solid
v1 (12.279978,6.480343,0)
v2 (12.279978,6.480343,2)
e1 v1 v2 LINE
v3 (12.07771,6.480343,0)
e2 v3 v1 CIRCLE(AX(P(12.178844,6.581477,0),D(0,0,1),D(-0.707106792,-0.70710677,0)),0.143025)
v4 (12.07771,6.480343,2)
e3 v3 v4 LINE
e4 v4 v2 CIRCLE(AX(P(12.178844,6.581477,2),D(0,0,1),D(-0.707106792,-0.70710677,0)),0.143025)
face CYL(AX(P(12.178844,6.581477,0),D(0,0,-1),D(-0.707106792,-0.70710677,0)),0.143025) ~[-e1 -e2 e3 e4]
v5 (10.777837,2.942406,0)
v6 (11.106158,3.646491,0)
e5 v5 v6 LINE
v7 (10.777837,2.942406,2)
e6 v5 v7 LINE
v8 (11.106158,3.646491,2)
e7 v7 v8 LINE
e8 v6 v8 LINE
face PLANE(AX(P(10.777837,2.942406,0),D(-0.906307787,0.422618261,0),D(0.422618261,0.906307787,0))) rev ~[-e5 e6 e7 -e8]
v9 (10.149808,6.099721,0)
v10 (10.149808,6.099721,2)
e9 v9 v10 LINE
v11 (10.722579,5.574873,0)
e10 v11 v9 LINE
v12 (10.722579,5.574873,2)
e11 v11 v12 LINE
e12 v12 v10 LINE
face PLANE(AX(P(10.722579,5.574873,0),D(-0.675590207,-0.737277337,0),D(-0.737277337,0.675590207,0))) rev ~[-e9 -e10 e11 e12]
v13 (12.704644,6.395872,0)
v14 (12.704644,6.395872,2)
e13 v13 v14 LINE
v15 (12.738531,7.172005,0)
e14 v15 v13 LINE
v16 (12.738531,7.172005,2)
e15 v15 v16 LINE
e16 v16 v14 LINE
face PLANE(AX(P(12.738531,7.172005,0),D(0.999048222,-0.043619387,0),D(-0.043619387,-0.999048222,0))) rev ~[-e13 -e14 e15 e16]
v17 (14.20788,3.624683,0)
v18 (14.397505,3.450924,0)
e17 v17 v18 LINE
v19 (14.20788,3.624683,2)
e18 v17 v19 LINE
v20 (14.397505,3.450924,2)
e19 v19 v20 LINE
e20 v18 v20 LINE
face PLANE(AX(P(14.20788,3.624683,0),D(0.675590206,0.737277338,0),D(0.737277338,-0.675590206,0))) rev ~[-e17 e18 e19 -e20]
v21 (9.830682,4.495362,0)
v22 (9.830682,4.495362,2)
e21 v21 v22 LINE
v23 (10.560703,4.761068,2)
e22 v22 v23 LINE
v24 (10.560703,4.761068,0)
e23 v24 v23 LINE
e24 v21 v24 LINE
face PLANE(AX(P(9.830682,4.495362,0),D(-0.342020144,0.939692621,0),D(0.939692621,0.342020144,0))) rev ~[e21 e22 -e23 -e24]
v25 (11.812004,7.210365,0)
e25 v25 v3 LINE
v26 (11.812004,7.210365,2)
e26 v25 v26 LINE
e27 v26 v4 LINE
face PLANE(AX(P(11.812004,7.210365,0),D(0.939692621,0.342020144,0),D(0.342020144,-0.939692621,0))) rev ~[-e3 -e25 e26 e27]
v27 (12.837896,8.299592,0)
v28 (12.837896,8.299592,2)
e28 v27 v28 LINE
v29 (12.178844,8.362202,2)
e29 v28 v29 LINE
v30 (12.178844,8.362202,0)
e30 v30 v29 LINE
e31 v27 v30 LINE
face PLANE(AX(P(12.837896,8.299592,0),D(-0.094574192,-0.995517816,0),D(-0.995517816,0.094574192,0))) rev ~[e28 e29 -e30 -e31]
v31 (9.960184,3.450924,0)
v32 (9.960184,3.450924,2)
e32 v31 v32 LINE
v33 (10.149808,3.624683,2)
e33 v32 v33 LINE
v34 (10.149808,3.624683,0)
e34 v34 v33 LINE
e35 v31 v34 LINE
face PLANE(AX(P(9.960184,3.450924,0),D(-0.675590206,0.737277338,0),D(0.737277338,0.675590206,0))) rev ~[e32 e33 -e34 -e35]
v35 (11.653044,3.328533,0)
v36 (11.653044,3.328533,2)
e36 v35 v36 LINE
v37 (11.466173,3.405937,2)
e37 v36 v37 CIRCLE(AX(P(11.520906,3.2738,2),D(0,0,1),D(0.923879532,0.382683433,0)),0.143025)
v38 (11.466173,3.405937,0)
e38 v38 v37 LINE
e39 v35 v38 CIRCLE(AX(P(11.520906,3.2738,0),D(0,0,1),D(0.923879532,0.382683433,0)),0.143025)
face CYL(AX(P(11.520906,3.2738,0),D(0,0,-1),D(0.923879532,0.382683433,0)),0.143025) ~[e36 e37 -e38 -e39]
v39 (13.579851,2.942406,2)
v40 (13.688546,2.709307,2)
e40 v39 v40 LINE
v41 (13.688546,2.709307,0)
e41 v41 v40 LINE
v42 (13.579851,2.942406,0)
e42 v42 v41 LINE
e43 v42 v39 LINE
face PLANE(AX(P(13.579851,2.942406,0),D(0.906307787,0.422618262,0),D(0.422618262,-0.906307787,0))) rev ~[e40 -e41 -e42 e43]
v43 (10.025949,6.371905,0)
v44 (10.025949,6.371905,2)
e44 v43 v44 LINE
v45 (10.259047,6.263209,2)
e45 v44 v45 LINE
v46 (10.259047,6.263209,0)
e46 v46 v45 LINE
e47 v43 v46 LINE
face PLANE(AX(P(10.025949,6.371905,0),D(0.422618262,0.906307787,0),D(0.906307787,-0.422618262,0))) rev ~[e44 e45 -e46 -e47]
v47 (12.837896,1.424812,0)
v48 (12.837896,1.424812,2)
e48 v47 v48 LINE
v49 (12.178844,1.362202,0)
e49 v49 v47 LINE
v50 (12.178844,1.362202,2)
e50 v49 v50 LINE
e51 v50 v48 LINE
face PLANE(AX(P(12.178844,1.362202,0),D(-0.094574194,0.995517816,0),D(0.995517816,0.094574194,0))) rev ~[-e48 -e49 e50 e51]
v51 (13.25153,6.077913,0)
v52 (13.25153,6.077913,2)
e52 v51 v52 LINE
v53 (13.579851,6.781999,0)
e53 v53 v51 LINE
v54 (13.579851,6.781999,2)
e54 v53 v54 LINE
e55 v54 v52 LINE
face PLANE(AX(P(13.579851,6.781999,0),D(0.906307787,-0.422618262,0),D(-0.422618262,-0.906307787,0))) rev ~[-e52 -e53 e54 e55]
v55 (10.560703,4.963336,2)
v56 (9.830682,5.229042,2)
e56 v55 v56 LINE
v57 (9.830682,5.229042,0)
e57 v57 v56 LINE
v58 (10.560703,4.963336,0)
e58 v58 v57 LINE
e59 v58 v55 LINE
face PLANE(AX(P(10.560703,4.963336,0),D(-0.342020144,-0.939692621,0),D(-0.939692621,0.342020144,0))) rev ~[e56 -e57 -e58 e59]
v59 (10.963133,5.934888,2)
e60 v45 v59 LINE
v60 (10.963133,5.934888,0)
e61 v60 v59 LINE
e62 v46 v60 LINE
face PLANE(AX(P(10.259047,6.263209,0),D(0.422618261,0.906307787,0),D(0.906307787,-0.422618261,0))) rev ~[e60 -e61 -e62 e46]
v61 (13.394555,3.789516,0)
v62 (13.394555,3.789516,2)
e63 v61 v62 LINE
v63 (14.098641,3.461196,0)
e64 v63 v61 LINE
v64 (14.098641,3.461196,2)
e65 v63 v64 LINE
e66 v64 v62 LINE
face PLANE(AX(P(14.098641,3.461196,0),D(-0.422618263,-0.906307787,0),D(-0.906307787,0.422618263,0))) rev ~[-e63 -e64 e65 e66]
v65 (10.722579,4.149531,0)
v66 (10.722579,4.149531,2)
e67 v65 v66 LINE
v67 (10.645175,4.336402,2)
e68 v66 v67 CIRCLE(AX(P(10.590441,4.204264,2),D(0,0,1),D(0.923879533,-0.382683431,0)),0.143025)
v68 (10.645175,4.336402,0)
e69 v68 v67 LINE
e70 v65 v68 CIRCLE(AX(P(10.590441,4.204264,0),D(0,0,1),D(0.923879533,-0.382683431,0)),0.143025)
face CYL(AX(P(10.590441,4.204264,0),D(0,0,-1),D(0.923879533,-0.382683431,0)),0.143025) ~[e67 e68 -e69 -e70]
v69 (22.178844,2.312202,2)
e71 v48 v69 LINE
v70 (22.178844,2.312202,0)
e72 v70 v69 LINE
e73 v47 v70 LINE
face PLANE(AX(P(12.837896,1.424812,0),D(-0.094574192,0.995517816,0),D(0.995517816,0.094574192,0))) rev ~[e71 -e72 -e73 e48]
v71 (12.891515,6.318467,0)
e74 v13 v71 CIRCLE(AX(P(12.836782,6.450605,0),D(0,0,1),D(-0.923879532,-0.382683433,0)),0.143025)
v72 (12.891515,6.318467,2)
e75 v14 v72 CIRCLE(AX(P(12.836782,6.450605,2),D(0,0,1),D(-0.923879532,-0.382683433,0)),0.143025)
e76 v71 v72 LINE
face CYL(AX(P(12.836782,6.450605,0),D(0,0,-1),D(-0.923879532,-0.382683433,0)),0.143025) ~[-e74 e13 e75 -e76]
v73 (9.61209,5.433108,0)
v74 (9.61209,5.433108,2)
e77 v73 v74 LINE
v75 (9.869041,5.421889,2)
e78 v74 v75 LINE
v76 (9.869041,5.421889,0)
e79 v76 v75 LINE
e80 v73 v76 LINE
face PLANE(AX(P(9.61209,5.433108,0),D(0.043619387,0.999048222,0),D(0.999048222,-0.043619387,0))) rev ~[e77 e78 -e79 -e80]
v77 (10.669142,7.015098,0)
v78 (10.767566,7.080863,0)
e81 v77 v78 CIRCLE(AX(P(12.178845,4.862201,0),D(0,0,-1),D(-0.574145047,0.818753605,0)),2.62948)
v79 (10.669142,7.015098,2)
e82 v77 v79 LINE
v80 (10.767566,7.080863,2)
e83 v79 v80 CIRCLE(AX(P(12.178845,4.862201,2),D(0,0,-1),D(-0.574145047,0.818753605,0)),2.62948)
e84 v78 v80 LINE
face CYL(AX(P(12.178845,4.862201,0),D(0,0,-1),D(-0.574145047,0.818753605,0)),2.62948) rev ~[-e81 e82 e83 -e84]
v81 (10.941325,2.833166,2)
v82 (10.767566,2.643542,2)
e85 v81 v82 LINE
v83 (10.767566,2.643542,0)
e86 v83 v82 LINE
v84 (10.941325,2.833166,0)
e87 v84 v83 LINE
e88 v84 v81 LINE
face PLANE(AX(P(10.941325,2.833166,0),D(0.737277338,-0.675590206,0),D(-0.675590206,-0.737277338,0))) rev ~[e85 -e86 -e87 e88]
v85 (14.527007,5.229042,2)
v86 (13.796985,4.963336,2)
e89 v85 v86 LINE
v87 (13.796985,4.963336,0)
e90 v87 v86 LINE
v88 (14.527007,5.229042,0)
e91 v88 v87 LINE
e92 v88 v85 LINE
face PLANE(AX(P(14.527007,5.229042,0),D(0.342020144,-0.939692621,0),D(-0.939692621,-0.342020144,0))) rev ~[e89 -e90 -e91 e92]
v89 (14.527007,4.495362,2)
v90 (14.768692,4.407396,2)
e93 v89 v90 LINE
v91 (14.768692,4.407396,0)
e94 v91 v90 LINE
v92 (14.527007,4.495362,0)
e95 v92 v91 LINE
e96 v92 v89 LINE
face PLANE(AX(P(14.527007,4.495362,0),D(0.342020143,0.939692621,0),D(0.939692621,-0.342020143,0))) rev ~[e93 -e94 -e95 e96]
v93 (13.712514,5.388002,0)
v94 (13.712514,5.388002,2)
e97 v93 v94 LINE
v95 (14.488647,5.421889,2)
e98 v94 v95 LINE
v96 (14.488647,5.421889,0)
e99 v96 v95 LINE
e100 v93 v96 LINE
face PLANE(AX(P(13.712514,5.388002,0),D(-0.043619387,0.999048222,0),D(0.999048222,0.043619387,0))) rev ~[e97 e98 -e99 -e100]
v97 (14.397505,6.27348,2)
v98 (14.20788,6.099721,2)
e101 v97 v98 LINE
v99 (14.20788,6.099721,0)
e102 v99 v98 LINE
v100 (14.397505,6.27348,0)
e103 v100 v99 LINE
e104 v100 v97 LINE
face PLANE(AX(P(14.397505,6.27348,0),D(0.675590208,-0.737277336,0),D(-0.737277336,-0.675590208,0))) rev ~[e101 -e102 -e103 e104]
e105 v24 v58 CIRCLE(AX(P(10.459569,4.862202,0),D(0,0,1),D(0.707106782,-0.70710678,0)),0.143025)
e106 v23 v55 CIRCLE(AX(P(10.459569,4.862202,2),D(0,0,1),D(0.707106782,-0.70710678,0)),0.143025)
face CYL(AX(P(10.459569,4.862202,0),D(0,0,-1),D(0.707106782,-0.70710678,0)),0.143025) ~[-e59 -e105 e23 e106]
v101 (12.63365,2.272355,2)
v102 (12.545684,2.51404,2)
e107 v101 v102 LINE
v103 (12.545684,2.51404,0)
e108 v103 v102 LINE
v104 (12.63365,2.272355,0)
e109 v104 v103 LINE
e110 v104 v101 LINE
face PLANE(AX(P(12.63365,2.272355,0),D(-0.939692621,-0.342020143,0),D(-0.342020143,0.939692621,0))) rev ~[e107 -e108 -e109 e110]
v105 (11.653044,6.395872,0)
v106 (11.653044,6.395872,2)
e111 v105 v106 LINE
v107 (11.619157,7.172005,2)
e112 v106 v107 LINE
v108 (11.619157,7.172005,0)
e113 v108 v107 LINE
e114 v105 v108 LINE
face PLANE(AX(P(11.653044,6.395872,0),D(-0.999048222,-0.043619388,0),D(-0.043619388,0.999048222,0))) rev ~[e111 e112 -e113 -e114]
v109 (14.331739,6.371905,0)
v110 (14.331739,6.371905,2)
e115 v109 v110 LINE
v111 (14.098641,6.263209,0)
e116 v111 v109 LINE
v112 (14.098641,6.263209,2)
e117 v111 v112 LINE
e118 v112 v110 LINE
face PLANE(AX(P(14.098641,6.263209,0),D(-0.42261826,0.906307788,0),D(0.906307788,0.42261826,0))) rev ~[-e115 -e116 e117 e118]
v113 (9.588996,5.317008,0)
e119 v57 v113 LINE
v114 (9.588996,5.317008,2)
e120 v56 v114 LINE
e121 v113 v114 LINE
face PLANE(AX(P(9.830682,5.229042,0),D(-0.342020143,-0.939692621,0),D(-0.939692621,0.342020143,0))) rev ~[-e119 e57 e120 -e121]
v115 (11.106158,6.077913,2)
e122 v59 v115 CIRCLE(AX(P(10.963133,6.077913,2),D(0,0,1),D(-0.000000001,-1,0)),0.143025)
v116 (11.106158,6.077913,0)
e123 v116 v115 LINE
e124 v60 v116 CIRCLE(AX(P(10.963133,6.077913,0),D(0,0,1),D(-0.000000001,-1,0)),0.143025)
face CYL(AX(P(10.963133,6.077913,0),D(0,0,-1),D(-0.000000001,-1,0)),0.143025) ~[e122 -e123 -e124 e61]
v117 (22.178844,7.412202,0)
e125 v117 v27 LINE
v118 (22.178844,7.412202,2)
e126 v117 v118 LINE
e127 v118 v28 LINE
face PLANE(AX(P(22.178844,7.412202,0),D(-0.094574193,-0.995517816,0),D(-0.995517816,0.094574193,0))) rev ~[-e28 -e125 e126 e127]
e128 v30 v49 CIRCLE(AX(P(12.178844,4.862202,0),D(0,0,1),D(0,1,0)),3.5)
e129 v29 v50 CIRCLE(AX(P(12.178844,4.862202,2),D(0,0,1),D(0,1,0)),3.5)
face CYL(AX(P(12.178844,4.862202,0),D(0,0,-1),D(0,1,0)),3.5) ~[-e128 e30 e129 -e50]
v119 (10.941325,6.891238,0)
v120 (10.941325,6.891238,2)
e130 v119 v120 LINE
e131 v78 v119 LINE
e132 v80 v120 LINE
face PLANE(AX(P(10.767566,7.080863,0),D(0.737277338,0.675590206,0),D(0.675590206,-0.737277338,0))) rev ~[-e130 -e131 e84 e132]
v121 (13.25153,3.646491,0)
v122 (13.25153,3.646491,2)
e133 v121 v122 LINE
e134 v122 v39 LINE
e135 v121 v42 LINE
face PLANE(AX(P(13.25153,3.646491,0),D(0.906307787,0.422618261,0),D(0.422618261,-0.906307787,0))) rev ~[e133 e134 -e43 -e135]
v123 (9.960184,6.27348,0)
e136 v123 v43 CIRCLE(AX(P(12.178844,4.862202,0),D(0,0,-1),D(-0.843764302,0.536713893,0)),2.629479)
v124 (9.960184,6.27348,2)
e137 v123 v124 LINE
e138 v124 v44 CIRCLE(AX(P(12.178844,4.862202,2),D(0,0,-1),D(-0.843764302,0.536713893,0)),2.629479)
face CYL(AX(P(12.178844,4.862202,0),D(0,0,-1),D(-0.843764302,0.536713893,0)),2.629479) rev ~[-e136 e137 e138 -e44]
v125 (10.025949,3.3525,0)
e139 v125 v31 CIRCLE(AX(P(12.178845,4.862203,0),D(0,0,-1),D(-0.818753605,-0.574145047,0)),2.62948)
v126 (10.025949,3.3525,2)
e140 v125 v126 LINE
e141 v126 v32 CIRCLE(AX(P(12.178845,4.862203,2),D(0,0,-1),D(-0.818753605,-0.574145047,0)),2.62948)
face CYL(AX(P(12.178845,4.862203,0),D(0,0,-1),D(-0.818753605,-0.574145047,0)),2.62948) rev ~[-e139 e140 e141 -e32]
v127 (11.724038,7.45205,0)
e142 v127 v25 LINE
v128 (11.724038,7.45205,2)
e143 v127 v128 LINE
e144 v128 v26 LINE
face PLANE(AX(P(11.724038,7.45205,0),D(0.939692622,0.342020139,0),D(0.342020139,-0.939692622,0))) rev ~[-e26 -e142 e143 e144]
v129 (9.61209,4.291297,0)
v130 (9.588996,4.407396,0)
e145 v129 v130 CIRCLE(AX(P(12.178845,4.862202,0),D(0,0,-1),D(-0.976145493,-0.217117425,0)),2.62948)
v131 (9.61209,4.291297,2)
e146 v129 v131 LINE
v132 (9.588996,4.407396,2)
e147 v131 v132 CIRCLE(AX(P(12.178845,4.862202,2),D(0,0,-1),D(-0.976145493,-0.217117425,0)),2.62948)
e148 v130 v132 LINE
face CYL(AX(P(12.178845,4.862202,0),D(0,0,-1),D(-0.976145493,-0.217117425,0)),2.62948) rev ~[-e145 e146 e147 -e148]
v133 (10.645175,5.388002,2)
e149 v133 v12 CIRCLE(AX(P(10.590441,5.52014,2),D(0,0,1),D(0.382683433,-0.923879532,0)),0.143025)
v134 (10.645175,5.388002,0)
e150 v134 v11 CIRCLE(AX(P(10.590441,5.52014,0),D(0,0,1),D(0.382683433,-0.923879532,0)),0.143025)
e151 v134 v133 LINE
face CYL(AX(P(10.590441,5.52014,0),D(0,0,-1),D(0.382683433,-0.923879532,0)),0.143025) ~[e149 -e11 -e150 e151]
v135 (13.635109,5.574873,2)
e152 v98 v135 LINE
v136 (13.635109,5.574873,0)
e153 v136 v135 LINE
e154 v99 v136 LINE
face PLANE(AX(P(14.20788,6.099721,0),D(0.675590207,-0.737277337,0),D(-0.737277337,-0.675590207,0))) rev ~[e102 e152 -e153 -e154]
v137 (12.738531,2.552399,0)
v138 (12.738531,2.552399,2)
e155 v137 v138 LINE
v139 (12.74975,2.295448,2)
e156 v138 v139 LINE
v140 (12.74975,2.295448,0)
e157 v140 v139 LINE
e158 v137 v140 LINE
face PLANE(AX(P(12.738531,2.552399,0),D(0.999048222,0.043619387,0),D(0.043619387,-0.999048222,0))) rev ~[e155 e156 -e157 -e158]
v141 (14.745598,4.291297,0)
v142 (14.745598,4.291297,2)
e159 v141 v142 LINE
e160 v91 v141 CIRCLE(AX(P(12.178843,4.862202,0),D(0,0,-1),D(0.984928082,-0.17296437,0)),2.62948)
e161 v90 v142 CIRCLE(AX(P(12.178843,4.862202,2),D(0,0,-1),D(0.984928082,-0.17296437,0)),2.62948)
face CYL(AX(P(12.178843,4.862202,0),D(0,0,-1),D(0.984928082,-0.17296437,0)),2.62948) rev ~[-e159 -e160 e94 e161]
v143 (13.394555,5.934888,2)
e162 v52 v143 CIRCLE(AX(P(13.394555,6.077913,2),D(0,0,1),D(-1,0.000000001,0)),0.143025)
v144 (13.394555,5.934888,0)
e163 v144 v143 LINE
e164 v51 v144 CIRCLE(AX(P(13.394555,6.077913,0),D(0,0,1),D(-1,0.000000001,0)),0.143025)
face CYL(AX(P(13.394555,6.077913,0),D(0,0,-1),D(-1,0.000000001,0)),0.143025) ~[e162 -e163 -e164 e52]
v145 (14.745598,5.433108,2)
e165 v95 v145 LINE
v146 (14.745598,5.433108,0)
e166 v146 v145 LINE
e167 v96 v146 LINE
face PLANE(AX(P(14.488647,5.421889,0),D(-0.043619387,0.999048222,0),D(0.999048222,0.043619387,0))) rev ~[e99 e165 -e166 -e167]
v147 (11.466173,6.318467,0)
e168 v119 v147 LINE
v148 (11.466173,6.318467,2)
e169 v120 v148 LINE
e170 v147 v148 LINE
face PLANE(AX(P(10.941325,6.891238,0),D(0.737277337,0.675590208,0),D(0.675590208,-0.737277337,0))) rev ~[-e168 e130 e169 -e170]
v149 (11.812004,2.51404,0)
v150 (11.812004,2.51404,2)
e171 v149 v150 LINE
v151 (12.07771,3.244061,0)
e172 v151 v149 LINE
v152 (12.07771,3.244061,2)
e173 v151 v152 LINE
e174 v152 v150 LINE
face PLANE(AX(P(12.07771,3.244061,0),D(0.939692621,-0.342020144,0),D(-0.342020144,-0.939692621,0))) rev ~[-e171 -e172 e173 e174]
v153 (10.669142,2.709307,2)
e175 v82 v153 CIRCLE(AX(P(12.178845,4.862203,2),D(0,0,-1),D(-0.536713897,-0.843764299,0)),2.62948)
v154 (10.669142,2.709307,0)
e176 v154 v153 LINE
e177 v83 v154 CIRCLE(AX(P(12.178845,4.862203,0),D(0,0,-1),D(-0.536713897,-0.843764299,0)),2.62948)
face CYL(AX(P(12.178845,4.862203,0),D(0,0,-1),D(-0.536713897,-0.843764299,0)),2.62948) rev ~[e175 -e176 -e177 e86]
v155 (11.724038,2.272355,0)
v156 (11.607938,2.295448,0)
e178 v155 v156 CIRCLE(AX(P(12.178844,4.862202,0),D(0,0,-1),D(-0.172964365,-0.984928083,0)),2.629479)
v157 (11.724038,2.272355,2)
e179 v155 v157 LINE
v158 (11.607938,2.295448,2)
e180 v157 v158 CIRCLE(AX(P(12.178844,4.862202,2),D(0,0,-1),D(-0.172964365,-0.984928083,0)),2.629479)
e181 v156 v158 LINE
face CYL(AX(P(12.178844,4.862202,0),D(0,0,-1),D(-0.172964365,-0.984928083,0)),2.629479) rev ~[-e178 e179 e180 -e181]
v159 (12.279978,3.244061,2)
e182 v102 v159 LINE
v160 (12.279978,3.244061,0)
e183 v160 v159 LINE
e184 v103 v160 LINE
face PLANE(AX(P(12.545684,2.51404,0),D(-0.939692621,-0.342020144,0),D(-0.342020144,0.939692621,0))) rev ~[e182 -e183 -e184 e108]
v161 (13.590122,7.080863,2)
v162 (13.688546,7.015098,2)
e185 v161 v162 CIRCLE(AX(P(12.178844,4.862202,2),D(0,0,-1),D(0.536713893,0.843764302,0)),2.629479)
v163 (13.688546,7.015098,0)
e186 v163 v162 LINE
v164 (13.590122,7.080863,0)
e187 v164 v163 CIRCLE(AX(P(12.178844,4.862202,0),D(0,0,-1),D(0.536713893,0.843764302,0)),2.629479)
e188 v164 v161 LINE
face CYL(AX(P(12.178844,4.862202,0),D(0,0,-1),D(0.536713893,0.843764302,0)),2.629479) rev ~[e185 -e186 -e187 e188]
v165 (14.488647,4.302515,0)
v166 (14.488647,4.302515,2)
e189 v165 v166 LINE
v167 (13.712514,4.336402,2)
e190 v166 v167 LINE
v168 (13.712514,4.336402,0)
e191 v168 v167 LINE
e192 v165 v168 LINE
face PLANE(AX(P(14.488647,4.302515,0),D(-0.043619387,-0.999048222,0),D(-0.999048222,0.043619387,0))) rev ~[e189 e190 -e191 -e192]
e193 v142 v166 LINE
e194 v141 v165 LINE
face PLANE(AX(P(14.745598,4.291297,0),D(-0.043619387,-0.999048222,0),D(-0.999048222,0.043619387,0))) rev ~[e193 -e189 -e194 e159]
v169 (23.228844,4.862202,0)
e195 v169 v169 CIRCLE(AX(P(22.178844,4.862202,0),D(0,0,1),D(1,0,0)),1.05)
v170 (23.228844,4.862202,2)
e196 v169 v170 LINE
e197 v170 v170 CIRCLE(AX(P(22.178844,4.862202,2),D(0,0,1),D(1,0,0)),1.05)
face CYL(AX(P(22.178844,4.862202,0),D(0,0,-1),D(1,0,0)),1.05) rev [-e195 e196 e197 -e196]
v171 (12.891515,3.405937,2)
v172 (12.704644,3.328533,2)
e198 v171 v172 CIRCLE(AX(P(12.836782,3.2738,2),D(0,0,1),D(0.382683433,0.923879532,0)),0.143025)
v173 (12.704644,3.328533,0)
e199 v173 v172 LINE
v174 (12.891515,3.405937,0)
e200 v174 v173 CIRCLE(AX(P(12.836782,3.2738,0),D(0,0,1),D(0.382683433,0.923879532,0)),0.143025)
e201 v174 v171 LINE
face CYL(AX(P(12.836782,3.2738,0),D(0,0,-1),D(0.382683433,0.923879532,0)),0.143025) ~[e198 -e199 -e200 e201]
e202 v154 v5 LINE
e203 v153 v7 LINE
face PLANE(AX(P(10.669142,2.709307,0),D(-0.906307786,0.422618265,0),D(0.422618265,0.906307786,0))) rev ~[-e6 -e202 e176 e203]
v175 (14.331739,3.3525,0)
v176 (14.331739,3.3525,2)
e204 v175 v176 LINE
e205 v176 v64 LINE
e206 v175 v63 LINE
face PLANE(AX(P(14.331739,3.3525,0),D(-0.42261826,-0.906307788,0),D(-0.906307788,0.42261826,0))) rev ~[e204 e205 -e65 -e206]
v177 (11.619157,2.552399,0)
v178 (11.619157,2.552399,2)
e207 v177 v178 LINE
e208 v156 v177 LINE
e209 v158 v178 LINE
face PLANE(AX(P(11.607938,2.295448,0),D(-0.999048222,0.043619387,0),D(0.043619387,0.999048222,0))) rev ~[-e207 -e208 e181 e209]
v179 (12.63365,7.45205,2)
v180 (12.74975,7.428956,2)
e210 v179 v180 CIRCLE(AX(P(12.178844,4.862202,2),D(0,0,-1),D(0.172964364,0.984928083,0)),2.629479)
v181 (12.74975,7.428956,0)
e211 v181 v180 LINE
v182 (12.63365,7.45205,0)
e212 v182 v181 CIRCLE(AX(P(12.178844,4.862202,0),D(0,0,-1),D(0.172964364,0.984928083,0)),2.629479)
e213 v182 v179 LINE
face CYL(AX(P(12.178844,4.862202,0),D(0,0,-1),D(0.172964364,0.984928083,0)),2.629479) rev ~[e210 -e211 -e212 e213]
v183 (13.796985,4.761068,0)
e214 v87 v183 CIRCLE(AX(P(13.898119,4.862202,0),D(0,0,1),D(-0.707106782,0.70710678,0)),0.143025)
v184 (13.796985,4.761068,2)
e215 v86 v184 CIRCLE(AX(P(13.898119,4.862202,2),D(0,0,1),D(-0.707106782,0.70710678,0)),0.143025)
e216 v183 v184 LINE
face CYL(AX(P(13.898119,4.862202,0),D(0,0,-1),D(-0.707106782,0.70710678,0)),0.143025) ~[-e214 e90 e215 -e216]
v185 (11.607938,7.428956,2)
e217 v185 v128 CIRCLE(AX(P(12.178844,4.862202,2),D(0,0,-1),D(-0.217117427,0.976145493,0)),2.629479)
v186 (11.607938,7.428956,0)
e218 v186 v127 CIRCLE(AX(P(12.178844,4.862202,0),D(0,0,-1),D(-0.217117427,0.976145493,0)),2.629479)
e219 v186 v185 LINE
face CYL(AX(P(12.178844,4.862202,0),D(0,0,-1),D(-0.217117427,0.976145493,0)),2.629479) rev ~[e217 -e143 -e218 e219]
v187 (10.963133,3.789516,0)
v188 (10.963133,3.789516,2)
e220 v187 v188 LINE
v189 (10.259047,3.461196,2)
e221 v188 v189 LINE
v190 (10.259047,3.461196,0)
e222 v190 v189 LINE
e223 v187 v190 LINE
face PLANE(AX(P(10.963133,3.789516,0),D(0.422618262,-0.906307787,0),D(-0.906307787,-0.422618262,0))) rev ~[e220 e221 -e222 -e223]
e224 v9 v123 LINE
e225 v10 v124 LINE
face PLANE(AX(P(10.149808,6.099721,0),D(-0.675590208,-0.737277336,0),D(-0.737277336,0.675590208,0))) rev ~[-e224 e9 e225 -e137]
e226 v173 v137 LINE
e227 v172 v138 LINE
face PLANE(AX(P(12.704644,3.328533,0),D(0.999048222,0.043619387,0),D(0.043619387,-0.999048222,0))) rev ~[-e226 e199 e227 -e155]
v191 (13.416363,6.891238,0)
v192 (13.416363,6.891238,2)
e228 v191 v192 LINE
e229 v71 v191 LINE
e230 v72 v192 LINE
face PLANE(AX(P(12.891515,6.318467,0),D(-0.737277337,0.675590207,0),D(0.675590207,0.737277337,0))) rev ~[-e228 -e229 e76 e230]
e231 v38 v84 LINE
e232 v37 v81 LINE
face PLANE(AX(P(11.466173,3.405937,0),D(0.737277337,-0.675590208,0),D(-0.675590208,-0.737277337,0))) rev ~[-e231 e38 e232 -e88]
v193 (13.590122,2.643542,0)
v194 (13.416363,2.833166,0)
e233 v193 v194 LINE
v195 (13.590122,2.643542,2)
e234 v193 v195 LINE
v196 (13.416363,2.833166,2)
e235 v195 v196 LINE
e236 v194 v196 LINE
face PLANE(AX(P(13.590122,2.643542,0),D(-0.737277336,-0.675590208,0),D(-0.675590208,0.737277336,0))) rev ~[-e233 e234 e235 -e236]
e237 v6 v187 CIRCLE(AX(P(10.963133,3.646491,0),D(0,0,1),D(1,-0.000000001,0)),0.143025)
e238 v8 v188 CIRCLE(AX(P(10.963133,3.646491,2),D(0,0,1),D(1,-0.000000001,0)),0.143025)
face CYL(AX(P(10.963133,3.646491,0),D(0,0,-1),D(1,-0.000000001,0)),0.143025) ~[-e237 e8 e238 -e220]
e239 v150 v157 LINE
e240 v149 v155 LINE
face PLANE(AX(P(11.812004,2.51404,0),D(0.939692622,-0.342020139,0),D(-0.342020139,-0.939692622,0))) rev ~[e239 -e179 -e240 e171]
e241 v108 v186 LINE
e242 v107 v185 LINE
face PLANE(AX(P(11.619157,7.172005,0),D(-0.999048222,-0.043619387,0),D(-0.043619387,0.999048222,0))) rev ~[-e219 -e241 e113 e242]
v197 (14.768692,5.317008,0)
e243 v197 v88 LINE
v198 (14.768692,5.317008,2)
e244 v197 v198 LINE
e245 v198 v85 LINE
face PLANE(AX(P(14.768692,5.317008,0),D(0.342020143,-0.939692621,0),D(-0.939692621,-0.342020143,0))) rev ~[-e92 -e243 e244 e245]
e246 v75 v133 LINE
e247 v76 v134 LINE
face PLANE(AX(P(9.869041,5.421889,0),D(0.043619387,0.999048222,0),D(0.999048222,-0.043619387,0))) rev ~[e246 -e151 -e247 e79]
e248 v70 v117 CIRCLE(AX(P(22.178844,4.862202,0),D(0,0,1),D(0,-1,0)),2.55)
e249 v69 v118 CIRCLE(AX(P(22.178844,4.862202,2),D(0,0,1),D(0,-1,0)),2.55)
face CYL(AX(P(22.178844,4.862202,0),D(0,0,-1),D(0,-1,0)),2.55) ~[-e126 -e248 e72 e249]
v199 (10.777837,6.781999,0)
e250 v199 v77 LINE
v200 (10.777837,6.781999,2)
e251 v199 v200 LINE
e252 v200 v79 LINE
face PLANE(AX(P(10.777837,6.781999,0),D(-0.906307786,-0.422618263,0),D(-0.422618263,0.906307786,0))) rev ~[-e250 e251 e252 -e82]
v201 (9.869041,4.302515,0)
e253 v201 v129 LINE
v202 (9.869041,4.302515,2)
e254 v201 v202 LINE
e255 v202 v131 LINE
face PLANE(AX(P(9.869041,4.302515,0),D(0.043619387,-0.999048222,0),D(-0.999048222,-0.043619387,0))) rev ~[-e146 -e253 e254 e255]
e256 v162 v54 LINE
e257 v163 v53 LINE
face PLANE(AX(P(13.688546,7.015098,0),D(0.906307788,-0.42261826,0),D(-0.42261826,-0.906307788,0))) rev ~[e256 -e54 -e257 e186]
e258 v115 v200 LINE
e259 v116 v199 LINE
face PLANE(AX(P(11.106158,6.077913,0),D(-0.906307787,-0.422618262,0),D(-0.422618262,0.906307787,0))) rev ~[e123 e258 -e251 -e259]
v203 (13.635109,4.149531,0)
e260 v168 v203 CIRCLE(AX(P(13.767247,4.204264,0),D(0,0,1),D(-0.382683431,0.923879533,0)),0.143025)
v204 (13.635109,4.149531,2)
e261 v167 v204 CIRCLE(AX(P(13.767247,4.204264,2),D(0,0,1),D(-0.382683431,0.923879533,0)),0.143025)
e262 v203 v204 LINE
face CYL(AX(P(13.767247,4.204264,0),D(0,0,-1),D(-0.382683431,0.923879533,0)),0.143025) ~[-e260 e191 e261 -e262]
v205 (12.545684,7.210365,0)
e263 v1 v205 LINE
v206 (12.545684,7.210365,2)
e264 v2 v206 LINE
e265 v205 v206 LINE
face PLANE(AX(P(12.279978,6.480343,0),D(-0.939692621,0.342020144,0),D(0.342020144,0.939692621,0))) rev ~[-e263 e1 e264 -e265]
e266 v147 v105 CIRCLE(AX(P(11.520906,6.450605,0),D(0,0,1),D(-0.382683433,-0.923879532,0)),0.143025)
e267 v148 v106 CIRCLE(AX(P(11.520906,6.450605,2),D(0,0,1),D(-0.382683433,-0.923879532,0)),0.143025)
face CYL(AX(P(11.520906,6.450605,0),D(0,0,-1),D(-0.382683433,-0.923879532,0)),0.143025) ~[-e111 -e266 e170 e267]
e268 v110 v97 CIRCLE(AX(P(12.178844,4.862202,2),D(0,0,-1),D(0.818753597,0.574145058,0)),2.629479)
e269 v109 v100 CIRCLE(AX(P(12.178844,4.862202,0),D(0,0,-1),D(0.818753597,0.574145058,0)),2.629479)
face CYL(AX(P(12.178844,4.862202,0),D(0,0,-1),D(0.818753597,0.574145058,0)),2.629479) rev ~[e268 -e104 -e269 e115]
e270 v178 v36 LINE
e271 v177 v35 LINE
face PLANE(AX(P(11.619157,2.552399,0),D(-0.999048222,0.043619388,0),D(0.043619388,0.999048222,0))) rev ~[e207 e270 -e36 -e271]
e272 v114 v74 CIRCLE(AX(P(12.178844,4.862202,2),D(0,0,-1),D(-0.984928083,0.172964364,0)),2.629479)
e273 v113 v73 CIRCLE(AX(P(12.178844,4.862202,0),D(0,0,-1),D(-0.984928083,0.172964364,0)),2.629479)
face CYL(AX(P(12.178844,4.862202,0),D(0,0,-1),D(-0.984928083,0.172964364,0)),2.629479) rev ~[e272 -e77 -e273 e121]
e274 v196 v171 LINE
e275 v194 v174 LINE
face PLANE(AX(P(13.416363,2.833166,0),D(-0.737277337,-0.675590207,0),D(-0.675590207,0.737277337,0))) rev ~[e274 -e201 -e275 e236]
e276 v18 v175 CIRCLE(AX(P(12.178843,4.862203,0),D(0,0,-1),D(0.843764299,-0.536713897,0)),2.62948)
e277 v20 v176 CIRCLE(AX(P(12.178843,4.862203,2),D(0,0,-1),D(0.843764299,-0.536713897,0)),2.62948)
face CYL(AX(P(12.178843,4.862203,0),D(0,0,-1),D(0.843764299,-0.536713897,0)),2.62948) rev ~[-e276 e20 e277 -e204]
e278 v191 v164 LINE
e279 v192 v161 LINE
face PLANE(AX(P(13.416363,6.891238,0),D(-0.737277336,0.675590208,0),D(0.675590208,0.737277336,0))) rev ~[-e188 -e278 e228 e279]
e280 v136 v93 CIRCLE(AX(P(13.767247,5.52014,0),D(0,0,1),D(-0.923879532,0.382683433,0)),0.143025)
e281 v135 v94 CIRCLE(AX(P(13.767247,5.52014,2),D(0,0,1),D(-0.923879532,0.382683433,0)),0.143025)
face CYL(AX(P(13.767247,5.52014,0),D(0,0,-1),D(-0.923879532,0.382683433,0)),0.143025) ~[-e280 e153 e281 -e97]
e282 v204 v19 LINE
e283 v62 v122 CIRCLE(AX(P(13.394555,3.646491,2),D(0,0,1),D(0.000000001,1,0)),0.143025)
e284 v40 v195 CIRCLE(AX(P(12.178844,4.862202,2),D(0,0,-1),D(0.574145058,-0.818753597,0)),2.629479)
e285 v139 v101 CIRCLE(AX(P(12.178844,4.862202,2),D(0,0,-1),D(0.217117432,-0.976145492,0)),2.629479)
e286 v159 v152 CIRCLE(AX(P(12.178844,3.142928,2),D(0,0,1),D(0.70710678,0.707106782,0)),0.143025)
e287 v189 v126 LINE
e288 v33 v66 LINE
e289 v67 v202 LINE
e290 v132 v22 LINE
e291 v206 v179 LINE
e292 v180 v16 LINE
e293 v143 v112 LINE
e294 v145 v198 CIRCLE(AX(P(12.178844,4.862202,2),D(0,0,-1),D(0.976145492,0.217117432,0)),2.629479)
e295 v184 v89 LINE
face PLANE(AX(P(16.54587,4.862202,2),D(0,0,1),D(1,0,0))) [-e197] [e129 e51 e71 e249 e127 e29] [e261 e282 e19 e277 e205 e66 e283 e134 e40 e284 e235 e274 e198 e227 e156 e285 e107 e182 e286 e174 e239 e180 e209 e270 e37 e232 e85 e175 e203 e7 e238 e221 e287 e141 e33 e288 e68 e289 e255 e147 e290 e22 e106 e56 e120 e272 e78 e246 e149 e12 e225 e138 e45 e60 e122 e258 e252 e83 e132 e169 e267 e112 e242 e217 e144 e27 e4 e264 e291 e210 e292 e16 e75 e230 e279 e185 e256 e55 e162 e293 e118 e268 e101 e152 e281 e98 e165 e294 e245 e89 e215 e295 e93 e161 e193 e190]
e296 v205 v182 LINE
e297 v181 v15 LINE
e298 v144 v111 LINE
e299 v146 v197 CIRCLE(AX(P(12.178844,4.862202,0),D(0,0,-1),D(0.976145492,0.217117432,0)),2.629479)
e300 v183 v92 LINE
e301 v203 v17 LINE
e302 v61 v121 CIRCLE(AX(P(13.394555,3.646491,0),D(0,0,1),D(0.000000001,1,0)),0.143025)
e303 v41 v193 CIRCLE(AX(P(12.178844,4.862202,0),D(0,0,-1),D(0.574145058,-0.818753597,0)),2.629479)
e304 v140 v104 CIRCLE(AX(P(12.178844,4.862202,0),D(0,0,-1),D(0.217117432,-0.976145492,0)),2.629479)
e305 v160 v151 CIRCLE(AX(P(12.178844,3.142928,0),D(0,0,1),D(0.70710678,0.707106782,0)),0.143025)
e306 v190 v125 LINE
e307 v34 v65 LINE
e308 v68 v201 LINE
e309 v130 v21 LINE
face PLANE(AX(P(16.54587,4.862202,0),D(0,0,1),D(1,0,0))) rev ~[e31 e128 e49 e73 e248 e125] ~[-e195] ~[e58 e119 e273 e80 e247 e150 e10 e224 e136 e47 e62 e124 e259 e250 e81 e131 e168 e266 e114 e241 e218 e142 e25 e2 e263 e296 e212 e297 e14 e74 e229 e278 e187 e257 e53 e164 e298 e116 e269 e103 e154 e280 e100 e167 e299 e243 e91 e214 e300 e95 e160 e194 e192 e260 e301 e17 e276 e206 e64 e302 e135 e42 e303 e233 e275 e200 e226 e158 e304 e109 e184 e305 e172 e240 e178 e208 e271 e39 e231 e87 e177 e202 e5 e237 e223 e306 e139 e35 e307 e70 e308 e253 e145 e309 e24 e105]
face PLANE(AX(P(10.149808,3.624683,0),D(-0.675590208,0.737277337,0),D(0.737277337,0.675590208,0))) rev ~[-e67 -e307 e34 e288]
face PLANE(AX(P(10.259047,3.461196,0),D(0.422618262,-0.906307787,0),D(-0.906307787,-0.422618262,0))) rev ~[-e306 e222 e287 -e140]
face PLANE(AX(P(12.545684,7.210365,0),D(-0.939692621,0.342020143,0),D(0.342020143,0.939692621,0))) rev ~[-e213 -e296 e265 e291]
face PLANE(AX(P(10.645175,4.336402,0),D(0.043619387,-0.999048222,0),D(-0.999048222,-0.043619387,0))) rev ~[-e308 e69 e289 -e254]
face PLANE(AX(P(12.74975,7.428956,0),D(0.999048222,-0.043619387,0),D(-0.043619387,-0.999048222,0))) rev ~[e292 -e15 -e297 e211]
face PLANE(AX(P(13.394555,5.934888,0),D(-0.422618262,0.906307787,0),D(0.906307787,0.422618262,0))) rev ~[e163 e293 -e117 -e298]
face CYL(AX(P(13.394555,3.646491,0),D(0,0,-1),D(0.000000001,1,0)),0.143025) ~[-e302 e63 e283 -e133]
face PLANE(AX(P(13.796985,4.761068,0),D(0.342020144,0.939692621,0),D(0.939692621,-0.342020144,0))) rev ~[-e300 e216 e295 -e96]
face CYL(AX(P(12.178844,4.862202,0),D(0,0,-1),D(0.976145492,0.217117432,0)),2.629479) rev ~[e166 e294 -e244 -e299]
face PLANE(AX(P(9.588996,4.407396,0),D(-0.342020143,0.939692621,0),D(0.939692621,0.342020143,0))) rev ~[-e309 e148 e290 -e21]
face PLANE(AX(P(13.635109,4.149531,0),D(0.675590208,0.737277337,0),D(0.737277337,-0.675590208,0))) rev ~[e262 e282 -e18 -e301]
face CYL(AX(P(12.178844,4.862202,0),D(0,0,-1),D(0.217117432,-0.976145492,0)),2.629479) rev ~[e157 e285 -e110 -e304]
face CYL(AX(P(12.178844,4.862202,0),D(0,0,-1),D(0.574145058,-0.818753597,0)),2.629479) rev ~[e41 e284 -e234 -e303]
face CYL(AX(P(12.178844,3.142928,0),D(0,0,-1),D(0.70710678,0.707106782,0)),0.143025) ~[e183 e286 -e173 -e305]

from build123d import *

# Parameters (mm, degrees)
SKETCH1_R           = 1.05
BOSS_EXTRUDE3_DEPTH = 2


with BuildPart() as part:
    # Sketch1 → Boss-Extrude3 (new body)
    with BuildSketch(Plane.XY):
        with BuildLine():
            Line((12.837896157, 8.299592267), (12.178844101, 8.362202212))
            ThreePointArc((12.178844101, 8.362202212), (8.678844101, 4.862202212), (12.178844101, 1.362202212))
            Line((12.178844101, 1.362202212), (12.837896157, 1.424812158))
            Line((12.837896157, 1.424812158), (22.178844101, 2.312202212))
            ThreePointArc((22.178844101, 2.312202212), (24.728844101, 4.862202212), (22.178844101, 7.412202212))
            Line((22.178844101, 7.412202212), (12.837896157, 8.299592267))
        make_face()
        with BuildLine():
            Line((11.619157127, 2.552399344), (11.653043843, 3.328532726))
            ThreePointArc((11.653043843, 3.328532726), (11.575639379, 3.40593719), (11.466172936, 3.40593719))
            Line((11.466172936, 3.40593719), (10.941325284, 2.833166486))
            Line((10.941325284, 2.833166486), (10.767566215, 2.643541736))
            ThreePointArc((10.767566215, 2.643541736), (10.717983865, 2.675870364), (10.669141763, 2.709306852))
            Line((10.669141763, 2.709306852), (10.777837472, 2.94240555))
            Line((10.777837472, 2.94240555), (11.106158101, 3.646491412))
            ThreePointArc((11.106158101, 3.646491412), (11.064267107, 3.747625218), (10.963133301, 3.789516212))
            Line((10.963133301, 3.789516212), (10.259047439, 3.461195582))
            Line((10.259047439, 3.461195582), (10.025948741, 3.352499874))
            ThreePointArc((10.025948741, 3.352499874), (9.992512253, 3.401341976), (9.960183625, 3.450924326))
            Line((9.960183625, 3.450924326), (10.149808375, 3.624683395))
            Line((10.149808375, 3.624683395), (10.722579079, 4.149531047))
            ThreePointArc((10.722579079, 4.149531047), (10.722579079, 4.258997489), (10.645174615, 4.336401953))
            Line((10.645174615, 4.336401953), (9.869041233, 4.302515238))
            Line((9.869041233, 4.302515238), (9.61209007, 4.291296508))
            ThreePointArc((9.61209007, 4.291296508), (9.599889846, 4.349216316), (9.588996432, 4.407396064))
            Line((9.588996432, 4.407396064), (9.830681575, 4.495362262))
            Line((9.830681575, 4.495362262), (10.560703205, 4.761068406))
            ThreePointArc((10.560703205, 4.761068406), (10.602594199, 4.862202212), (10.560703205, 4.963336018))
            Line((10.560703205, 4.963336018), (9.830681575, 5.229042162))
            Line((9.830681575, 5.229042162), (9.588996432, 5.31700836))
            ThreePointArc((9.588996432, 5.31700836), (9.599889846, 5.375188109), (9.61209007, 5.433107916))
            Line((9.61209007, 5.433107916), (9.869041233, 5.421889186))
            Line((9.869041233, 5.421889186), (10.645174615, 5.388002471))
            ThreePointArc((10.645174615, 5.388002471), (10.722579079, 5.465406935), (10.722579079, 5.574873378))
            Line((10.722579079, 5.574873378), (10.149808375, 6.099721029))
            Line((10.149808375, 6.099721029), (9.960183625, 6.273480099))
            ThreePointArc((9.960183625, 6.273480099), (9.992512253, 6.323062449), (10.025948741, 6.37190455))
            Line((10.025948741, 6.37190455), (10.259047439, 6.263208842))
            Line((10.259047439, 6.263208842), (10.963133301, 5.934888213))
            ThreePointArc((10.963133301, 5.934888213), (11.064267107, 5.976779207), (11.106158101, 6.077913013))
            Line((11.106158101, 6.077913013), (10.777837472, 6.781998874))
            Line((10.777837472, 6.781998874), (10.669141763, 7.015097573))
            ThreePointArc((10.669141763, 7.015097573), (10.717983865, 7.048534061), (10.767566215, 7.080862689))
            Line((10.767566215, 7.080862689), (10.941325284, 6.891237939))
            Line((10.941325284, 6.891237939), (11.466172936, 6.318467235))
            ThreePointArc((11.466172936, 6.318467235), (11.575639379, 6.318467235), (11.653043843, 6.395871699))
            Line((11.653043843, 6.395871699), (11.619157127, 7.172005081))
            Line((11.619157127, 7.172005081), (11.607938397, 7.428956244))
            ThreePointArc((11.607938397, 7.428956244), (11.665858205, 7.441156468), (11.724037954, 7.452049882))
            Line((11.724037954, 7.452049882), (11.812004151, 7.210364739))
            Line((11.812004151, 7.210364739), (12.077710295, 6.480343109))
            ThreePointArc((12.077710295, 6.480343109), (12.178844101, 6.438452114), (12.279977907, 6.480343109))
            Line((12.279977907, 6.480343109), (12.545684051, 7.210364739))
            Line((12.545684051, 7.210364739), (12.633650249, 7.452049882))
            ThreePointArc((12.633650249, 7.452049882), (12.691829998, 7.441156468), (12.749749805, 7.428956244))
            Line((12.749749805, 7.428956244), (12.738531075, 7.172005081))
            Line((12.738531075, 7.172005081), (12.70464436, 6.395871699))
            ThreePointArc((12.70464436, 6.395871699), (12.782048824, 6.318467235), (12.891515267, 6.318467235))
            Line((12.891515267, 6.318467235), (13.416362918, 6.891237939))
            Line((13.416362918, 6.891237939), (13.590121988, 7.080862689))
            ThreePointArc((13.590121988, 7.080862689), (13.639704338, 7.048534061), (13.688546439, 7.015097573))
            Line((13.688546439, 7.015097573), (13.579850731, 6.781998874))
            Line((13.579850731, 6.781998874), (13.251530102, 6.077913013))
            ThreePointArc((13.251530102, 6.077913013), (13.293421096, 5.976779207), (13.394554902, 5.934888213))
            Line((13.394554902, 5.934888213), (14.098640763, 6.263208842))
            Line((14.098640763, 6.263208842), (14.331739462, 6.37190455))
            ThreePointArc((14.331739462, 6.37190455), (14.36517595, 6.323062449), (14.397504578, 6.273480099))
            Line((14.397504578, 6.273480099), (14.207879828, 6.099721029))
            Line((14.207879828, 6.099721029), (13.635109124, 5.574873378))
            ThreePointArc((13.635109124, 5.574873378), (13.635109124, 5.465406935), (13.712513588, 5.388002471))
            Line((13.712513588, 5.388002471), (14.48864697, 5.421889186))
            Line((14.48864697, 5.421889186), (14.745598133, 5.433107916))
            ThreePointArc((14.745598133, 5.433107916), (14.757798357, 5.375188109), (14.768691771, 5.31700836))
            Line((14.768691771, 5.31700836), (14.527006628, 5.229042162))
            Line((14.527006628, 5.229042162), (13.796984998, 4.963336018))
            ThreePointArc((13.796984998, 4.963336018), (13.755094004, 4.862202212), (13.796984998, 4.761068406))
            Line((13.796984998, 4.761068406), (14.527006628, 4.495362262))
            Line((14.527006628, 4.495362262), (14.768691771, 4.407396064))
            ThreePointArc((14.768691771, 4.407396064), (14.757798357, 4.349216316), (14.745598133, 4.291296508))
            Line((14.745598133, 4.291296508), (14.48864697, 4.302515238))
            Line((14.48864697, 4.302515238), (13.712513588, 4.336401953))
            ThreePointArc((13.712513588, 4.336401953), (13.635109124, 4.258997489), (13.635109124, 4.149531047))
            Line((13.635109124, 4.149531047), (14.207879828, 3.624683395))
            Line((14.207879828, 3.624683395), (14.397504578, 3.450924326))
            ThreePointArc((14.397504578, 3.450924326), (14.36517595, 3.401341976), (14.331739462, 3.352499874))
            Line((14.331739462, 3.352499874), (14.098640763, 3.461195582))
            Line((14.098640763, 3.461195582), (13.394554902, 3.789516212))
            ThreePointArc((13.394554902, 3.789516212), (13.293421096, 3.747625218), (13.251530102, 3.646491412))
            Line((13.251530102, 3.646491412), (13.579850731, 2.94240555))
            Line((13.579850731, 2.94240555), (13.688546439, 2.709306852))
            ThreePointArc((13.688546439, 2.709306852), (13.639704338, 2.675870364), (13.590121988, 2.643541736))
            Line((13.590121988, 2.643541736), (13.416362918, 2.833166486))
            Line((13.416362918, 2.833166486), (12.891515267, 3.40593719))
            ThreePointArc((12.891515267, 3.40593719), (12.782048824, 3.40593719), (12.70464436, 3.328532726))
            Line((12.70464436, 3.328532726), (12.738531075, 2.552399344))
            Line((12.738531075, 2.552399344), (12.749749805, 2.295448181))
            ThreePointArc((12.749749805, 2.295448181), (12.691829998, 2.283247957), (12.633650249, 2.272354543))
            Line((12.633650249, 2.272354543), (12.545684051, 2.514039686))
            Line((12.545684051, 2.514039686), (12.279977907, 3.244061316))
            ThreePointArc((12.279977907, 3.244061316), (12.178844101, 3.28595231), (12.077710295, 3.244061316))
            Line((12.077710295, 3.244061316), (11.812004151, 2.514039686))
            Line((11.812004151, 2.514039686), (11.724037954, 2.272354543))
            ThreePointArc((11.724037954, 2.272354543), (11.665858205, 2.283247957), (11.607938397, 2.295448181))
            Line((11.607938397, 2.295448181), (11.619157127, 2.552399344))
        make_face(mode=Mode.SUBTRACT)
        with Locations((22.178844101, 4.862202212)):
            Circle(SKETCH1_R, mode=Mode.SUBTRACT)
    extrude(amount=BOSS_EXTRUDE3_DEPTH)


solid = part.part
